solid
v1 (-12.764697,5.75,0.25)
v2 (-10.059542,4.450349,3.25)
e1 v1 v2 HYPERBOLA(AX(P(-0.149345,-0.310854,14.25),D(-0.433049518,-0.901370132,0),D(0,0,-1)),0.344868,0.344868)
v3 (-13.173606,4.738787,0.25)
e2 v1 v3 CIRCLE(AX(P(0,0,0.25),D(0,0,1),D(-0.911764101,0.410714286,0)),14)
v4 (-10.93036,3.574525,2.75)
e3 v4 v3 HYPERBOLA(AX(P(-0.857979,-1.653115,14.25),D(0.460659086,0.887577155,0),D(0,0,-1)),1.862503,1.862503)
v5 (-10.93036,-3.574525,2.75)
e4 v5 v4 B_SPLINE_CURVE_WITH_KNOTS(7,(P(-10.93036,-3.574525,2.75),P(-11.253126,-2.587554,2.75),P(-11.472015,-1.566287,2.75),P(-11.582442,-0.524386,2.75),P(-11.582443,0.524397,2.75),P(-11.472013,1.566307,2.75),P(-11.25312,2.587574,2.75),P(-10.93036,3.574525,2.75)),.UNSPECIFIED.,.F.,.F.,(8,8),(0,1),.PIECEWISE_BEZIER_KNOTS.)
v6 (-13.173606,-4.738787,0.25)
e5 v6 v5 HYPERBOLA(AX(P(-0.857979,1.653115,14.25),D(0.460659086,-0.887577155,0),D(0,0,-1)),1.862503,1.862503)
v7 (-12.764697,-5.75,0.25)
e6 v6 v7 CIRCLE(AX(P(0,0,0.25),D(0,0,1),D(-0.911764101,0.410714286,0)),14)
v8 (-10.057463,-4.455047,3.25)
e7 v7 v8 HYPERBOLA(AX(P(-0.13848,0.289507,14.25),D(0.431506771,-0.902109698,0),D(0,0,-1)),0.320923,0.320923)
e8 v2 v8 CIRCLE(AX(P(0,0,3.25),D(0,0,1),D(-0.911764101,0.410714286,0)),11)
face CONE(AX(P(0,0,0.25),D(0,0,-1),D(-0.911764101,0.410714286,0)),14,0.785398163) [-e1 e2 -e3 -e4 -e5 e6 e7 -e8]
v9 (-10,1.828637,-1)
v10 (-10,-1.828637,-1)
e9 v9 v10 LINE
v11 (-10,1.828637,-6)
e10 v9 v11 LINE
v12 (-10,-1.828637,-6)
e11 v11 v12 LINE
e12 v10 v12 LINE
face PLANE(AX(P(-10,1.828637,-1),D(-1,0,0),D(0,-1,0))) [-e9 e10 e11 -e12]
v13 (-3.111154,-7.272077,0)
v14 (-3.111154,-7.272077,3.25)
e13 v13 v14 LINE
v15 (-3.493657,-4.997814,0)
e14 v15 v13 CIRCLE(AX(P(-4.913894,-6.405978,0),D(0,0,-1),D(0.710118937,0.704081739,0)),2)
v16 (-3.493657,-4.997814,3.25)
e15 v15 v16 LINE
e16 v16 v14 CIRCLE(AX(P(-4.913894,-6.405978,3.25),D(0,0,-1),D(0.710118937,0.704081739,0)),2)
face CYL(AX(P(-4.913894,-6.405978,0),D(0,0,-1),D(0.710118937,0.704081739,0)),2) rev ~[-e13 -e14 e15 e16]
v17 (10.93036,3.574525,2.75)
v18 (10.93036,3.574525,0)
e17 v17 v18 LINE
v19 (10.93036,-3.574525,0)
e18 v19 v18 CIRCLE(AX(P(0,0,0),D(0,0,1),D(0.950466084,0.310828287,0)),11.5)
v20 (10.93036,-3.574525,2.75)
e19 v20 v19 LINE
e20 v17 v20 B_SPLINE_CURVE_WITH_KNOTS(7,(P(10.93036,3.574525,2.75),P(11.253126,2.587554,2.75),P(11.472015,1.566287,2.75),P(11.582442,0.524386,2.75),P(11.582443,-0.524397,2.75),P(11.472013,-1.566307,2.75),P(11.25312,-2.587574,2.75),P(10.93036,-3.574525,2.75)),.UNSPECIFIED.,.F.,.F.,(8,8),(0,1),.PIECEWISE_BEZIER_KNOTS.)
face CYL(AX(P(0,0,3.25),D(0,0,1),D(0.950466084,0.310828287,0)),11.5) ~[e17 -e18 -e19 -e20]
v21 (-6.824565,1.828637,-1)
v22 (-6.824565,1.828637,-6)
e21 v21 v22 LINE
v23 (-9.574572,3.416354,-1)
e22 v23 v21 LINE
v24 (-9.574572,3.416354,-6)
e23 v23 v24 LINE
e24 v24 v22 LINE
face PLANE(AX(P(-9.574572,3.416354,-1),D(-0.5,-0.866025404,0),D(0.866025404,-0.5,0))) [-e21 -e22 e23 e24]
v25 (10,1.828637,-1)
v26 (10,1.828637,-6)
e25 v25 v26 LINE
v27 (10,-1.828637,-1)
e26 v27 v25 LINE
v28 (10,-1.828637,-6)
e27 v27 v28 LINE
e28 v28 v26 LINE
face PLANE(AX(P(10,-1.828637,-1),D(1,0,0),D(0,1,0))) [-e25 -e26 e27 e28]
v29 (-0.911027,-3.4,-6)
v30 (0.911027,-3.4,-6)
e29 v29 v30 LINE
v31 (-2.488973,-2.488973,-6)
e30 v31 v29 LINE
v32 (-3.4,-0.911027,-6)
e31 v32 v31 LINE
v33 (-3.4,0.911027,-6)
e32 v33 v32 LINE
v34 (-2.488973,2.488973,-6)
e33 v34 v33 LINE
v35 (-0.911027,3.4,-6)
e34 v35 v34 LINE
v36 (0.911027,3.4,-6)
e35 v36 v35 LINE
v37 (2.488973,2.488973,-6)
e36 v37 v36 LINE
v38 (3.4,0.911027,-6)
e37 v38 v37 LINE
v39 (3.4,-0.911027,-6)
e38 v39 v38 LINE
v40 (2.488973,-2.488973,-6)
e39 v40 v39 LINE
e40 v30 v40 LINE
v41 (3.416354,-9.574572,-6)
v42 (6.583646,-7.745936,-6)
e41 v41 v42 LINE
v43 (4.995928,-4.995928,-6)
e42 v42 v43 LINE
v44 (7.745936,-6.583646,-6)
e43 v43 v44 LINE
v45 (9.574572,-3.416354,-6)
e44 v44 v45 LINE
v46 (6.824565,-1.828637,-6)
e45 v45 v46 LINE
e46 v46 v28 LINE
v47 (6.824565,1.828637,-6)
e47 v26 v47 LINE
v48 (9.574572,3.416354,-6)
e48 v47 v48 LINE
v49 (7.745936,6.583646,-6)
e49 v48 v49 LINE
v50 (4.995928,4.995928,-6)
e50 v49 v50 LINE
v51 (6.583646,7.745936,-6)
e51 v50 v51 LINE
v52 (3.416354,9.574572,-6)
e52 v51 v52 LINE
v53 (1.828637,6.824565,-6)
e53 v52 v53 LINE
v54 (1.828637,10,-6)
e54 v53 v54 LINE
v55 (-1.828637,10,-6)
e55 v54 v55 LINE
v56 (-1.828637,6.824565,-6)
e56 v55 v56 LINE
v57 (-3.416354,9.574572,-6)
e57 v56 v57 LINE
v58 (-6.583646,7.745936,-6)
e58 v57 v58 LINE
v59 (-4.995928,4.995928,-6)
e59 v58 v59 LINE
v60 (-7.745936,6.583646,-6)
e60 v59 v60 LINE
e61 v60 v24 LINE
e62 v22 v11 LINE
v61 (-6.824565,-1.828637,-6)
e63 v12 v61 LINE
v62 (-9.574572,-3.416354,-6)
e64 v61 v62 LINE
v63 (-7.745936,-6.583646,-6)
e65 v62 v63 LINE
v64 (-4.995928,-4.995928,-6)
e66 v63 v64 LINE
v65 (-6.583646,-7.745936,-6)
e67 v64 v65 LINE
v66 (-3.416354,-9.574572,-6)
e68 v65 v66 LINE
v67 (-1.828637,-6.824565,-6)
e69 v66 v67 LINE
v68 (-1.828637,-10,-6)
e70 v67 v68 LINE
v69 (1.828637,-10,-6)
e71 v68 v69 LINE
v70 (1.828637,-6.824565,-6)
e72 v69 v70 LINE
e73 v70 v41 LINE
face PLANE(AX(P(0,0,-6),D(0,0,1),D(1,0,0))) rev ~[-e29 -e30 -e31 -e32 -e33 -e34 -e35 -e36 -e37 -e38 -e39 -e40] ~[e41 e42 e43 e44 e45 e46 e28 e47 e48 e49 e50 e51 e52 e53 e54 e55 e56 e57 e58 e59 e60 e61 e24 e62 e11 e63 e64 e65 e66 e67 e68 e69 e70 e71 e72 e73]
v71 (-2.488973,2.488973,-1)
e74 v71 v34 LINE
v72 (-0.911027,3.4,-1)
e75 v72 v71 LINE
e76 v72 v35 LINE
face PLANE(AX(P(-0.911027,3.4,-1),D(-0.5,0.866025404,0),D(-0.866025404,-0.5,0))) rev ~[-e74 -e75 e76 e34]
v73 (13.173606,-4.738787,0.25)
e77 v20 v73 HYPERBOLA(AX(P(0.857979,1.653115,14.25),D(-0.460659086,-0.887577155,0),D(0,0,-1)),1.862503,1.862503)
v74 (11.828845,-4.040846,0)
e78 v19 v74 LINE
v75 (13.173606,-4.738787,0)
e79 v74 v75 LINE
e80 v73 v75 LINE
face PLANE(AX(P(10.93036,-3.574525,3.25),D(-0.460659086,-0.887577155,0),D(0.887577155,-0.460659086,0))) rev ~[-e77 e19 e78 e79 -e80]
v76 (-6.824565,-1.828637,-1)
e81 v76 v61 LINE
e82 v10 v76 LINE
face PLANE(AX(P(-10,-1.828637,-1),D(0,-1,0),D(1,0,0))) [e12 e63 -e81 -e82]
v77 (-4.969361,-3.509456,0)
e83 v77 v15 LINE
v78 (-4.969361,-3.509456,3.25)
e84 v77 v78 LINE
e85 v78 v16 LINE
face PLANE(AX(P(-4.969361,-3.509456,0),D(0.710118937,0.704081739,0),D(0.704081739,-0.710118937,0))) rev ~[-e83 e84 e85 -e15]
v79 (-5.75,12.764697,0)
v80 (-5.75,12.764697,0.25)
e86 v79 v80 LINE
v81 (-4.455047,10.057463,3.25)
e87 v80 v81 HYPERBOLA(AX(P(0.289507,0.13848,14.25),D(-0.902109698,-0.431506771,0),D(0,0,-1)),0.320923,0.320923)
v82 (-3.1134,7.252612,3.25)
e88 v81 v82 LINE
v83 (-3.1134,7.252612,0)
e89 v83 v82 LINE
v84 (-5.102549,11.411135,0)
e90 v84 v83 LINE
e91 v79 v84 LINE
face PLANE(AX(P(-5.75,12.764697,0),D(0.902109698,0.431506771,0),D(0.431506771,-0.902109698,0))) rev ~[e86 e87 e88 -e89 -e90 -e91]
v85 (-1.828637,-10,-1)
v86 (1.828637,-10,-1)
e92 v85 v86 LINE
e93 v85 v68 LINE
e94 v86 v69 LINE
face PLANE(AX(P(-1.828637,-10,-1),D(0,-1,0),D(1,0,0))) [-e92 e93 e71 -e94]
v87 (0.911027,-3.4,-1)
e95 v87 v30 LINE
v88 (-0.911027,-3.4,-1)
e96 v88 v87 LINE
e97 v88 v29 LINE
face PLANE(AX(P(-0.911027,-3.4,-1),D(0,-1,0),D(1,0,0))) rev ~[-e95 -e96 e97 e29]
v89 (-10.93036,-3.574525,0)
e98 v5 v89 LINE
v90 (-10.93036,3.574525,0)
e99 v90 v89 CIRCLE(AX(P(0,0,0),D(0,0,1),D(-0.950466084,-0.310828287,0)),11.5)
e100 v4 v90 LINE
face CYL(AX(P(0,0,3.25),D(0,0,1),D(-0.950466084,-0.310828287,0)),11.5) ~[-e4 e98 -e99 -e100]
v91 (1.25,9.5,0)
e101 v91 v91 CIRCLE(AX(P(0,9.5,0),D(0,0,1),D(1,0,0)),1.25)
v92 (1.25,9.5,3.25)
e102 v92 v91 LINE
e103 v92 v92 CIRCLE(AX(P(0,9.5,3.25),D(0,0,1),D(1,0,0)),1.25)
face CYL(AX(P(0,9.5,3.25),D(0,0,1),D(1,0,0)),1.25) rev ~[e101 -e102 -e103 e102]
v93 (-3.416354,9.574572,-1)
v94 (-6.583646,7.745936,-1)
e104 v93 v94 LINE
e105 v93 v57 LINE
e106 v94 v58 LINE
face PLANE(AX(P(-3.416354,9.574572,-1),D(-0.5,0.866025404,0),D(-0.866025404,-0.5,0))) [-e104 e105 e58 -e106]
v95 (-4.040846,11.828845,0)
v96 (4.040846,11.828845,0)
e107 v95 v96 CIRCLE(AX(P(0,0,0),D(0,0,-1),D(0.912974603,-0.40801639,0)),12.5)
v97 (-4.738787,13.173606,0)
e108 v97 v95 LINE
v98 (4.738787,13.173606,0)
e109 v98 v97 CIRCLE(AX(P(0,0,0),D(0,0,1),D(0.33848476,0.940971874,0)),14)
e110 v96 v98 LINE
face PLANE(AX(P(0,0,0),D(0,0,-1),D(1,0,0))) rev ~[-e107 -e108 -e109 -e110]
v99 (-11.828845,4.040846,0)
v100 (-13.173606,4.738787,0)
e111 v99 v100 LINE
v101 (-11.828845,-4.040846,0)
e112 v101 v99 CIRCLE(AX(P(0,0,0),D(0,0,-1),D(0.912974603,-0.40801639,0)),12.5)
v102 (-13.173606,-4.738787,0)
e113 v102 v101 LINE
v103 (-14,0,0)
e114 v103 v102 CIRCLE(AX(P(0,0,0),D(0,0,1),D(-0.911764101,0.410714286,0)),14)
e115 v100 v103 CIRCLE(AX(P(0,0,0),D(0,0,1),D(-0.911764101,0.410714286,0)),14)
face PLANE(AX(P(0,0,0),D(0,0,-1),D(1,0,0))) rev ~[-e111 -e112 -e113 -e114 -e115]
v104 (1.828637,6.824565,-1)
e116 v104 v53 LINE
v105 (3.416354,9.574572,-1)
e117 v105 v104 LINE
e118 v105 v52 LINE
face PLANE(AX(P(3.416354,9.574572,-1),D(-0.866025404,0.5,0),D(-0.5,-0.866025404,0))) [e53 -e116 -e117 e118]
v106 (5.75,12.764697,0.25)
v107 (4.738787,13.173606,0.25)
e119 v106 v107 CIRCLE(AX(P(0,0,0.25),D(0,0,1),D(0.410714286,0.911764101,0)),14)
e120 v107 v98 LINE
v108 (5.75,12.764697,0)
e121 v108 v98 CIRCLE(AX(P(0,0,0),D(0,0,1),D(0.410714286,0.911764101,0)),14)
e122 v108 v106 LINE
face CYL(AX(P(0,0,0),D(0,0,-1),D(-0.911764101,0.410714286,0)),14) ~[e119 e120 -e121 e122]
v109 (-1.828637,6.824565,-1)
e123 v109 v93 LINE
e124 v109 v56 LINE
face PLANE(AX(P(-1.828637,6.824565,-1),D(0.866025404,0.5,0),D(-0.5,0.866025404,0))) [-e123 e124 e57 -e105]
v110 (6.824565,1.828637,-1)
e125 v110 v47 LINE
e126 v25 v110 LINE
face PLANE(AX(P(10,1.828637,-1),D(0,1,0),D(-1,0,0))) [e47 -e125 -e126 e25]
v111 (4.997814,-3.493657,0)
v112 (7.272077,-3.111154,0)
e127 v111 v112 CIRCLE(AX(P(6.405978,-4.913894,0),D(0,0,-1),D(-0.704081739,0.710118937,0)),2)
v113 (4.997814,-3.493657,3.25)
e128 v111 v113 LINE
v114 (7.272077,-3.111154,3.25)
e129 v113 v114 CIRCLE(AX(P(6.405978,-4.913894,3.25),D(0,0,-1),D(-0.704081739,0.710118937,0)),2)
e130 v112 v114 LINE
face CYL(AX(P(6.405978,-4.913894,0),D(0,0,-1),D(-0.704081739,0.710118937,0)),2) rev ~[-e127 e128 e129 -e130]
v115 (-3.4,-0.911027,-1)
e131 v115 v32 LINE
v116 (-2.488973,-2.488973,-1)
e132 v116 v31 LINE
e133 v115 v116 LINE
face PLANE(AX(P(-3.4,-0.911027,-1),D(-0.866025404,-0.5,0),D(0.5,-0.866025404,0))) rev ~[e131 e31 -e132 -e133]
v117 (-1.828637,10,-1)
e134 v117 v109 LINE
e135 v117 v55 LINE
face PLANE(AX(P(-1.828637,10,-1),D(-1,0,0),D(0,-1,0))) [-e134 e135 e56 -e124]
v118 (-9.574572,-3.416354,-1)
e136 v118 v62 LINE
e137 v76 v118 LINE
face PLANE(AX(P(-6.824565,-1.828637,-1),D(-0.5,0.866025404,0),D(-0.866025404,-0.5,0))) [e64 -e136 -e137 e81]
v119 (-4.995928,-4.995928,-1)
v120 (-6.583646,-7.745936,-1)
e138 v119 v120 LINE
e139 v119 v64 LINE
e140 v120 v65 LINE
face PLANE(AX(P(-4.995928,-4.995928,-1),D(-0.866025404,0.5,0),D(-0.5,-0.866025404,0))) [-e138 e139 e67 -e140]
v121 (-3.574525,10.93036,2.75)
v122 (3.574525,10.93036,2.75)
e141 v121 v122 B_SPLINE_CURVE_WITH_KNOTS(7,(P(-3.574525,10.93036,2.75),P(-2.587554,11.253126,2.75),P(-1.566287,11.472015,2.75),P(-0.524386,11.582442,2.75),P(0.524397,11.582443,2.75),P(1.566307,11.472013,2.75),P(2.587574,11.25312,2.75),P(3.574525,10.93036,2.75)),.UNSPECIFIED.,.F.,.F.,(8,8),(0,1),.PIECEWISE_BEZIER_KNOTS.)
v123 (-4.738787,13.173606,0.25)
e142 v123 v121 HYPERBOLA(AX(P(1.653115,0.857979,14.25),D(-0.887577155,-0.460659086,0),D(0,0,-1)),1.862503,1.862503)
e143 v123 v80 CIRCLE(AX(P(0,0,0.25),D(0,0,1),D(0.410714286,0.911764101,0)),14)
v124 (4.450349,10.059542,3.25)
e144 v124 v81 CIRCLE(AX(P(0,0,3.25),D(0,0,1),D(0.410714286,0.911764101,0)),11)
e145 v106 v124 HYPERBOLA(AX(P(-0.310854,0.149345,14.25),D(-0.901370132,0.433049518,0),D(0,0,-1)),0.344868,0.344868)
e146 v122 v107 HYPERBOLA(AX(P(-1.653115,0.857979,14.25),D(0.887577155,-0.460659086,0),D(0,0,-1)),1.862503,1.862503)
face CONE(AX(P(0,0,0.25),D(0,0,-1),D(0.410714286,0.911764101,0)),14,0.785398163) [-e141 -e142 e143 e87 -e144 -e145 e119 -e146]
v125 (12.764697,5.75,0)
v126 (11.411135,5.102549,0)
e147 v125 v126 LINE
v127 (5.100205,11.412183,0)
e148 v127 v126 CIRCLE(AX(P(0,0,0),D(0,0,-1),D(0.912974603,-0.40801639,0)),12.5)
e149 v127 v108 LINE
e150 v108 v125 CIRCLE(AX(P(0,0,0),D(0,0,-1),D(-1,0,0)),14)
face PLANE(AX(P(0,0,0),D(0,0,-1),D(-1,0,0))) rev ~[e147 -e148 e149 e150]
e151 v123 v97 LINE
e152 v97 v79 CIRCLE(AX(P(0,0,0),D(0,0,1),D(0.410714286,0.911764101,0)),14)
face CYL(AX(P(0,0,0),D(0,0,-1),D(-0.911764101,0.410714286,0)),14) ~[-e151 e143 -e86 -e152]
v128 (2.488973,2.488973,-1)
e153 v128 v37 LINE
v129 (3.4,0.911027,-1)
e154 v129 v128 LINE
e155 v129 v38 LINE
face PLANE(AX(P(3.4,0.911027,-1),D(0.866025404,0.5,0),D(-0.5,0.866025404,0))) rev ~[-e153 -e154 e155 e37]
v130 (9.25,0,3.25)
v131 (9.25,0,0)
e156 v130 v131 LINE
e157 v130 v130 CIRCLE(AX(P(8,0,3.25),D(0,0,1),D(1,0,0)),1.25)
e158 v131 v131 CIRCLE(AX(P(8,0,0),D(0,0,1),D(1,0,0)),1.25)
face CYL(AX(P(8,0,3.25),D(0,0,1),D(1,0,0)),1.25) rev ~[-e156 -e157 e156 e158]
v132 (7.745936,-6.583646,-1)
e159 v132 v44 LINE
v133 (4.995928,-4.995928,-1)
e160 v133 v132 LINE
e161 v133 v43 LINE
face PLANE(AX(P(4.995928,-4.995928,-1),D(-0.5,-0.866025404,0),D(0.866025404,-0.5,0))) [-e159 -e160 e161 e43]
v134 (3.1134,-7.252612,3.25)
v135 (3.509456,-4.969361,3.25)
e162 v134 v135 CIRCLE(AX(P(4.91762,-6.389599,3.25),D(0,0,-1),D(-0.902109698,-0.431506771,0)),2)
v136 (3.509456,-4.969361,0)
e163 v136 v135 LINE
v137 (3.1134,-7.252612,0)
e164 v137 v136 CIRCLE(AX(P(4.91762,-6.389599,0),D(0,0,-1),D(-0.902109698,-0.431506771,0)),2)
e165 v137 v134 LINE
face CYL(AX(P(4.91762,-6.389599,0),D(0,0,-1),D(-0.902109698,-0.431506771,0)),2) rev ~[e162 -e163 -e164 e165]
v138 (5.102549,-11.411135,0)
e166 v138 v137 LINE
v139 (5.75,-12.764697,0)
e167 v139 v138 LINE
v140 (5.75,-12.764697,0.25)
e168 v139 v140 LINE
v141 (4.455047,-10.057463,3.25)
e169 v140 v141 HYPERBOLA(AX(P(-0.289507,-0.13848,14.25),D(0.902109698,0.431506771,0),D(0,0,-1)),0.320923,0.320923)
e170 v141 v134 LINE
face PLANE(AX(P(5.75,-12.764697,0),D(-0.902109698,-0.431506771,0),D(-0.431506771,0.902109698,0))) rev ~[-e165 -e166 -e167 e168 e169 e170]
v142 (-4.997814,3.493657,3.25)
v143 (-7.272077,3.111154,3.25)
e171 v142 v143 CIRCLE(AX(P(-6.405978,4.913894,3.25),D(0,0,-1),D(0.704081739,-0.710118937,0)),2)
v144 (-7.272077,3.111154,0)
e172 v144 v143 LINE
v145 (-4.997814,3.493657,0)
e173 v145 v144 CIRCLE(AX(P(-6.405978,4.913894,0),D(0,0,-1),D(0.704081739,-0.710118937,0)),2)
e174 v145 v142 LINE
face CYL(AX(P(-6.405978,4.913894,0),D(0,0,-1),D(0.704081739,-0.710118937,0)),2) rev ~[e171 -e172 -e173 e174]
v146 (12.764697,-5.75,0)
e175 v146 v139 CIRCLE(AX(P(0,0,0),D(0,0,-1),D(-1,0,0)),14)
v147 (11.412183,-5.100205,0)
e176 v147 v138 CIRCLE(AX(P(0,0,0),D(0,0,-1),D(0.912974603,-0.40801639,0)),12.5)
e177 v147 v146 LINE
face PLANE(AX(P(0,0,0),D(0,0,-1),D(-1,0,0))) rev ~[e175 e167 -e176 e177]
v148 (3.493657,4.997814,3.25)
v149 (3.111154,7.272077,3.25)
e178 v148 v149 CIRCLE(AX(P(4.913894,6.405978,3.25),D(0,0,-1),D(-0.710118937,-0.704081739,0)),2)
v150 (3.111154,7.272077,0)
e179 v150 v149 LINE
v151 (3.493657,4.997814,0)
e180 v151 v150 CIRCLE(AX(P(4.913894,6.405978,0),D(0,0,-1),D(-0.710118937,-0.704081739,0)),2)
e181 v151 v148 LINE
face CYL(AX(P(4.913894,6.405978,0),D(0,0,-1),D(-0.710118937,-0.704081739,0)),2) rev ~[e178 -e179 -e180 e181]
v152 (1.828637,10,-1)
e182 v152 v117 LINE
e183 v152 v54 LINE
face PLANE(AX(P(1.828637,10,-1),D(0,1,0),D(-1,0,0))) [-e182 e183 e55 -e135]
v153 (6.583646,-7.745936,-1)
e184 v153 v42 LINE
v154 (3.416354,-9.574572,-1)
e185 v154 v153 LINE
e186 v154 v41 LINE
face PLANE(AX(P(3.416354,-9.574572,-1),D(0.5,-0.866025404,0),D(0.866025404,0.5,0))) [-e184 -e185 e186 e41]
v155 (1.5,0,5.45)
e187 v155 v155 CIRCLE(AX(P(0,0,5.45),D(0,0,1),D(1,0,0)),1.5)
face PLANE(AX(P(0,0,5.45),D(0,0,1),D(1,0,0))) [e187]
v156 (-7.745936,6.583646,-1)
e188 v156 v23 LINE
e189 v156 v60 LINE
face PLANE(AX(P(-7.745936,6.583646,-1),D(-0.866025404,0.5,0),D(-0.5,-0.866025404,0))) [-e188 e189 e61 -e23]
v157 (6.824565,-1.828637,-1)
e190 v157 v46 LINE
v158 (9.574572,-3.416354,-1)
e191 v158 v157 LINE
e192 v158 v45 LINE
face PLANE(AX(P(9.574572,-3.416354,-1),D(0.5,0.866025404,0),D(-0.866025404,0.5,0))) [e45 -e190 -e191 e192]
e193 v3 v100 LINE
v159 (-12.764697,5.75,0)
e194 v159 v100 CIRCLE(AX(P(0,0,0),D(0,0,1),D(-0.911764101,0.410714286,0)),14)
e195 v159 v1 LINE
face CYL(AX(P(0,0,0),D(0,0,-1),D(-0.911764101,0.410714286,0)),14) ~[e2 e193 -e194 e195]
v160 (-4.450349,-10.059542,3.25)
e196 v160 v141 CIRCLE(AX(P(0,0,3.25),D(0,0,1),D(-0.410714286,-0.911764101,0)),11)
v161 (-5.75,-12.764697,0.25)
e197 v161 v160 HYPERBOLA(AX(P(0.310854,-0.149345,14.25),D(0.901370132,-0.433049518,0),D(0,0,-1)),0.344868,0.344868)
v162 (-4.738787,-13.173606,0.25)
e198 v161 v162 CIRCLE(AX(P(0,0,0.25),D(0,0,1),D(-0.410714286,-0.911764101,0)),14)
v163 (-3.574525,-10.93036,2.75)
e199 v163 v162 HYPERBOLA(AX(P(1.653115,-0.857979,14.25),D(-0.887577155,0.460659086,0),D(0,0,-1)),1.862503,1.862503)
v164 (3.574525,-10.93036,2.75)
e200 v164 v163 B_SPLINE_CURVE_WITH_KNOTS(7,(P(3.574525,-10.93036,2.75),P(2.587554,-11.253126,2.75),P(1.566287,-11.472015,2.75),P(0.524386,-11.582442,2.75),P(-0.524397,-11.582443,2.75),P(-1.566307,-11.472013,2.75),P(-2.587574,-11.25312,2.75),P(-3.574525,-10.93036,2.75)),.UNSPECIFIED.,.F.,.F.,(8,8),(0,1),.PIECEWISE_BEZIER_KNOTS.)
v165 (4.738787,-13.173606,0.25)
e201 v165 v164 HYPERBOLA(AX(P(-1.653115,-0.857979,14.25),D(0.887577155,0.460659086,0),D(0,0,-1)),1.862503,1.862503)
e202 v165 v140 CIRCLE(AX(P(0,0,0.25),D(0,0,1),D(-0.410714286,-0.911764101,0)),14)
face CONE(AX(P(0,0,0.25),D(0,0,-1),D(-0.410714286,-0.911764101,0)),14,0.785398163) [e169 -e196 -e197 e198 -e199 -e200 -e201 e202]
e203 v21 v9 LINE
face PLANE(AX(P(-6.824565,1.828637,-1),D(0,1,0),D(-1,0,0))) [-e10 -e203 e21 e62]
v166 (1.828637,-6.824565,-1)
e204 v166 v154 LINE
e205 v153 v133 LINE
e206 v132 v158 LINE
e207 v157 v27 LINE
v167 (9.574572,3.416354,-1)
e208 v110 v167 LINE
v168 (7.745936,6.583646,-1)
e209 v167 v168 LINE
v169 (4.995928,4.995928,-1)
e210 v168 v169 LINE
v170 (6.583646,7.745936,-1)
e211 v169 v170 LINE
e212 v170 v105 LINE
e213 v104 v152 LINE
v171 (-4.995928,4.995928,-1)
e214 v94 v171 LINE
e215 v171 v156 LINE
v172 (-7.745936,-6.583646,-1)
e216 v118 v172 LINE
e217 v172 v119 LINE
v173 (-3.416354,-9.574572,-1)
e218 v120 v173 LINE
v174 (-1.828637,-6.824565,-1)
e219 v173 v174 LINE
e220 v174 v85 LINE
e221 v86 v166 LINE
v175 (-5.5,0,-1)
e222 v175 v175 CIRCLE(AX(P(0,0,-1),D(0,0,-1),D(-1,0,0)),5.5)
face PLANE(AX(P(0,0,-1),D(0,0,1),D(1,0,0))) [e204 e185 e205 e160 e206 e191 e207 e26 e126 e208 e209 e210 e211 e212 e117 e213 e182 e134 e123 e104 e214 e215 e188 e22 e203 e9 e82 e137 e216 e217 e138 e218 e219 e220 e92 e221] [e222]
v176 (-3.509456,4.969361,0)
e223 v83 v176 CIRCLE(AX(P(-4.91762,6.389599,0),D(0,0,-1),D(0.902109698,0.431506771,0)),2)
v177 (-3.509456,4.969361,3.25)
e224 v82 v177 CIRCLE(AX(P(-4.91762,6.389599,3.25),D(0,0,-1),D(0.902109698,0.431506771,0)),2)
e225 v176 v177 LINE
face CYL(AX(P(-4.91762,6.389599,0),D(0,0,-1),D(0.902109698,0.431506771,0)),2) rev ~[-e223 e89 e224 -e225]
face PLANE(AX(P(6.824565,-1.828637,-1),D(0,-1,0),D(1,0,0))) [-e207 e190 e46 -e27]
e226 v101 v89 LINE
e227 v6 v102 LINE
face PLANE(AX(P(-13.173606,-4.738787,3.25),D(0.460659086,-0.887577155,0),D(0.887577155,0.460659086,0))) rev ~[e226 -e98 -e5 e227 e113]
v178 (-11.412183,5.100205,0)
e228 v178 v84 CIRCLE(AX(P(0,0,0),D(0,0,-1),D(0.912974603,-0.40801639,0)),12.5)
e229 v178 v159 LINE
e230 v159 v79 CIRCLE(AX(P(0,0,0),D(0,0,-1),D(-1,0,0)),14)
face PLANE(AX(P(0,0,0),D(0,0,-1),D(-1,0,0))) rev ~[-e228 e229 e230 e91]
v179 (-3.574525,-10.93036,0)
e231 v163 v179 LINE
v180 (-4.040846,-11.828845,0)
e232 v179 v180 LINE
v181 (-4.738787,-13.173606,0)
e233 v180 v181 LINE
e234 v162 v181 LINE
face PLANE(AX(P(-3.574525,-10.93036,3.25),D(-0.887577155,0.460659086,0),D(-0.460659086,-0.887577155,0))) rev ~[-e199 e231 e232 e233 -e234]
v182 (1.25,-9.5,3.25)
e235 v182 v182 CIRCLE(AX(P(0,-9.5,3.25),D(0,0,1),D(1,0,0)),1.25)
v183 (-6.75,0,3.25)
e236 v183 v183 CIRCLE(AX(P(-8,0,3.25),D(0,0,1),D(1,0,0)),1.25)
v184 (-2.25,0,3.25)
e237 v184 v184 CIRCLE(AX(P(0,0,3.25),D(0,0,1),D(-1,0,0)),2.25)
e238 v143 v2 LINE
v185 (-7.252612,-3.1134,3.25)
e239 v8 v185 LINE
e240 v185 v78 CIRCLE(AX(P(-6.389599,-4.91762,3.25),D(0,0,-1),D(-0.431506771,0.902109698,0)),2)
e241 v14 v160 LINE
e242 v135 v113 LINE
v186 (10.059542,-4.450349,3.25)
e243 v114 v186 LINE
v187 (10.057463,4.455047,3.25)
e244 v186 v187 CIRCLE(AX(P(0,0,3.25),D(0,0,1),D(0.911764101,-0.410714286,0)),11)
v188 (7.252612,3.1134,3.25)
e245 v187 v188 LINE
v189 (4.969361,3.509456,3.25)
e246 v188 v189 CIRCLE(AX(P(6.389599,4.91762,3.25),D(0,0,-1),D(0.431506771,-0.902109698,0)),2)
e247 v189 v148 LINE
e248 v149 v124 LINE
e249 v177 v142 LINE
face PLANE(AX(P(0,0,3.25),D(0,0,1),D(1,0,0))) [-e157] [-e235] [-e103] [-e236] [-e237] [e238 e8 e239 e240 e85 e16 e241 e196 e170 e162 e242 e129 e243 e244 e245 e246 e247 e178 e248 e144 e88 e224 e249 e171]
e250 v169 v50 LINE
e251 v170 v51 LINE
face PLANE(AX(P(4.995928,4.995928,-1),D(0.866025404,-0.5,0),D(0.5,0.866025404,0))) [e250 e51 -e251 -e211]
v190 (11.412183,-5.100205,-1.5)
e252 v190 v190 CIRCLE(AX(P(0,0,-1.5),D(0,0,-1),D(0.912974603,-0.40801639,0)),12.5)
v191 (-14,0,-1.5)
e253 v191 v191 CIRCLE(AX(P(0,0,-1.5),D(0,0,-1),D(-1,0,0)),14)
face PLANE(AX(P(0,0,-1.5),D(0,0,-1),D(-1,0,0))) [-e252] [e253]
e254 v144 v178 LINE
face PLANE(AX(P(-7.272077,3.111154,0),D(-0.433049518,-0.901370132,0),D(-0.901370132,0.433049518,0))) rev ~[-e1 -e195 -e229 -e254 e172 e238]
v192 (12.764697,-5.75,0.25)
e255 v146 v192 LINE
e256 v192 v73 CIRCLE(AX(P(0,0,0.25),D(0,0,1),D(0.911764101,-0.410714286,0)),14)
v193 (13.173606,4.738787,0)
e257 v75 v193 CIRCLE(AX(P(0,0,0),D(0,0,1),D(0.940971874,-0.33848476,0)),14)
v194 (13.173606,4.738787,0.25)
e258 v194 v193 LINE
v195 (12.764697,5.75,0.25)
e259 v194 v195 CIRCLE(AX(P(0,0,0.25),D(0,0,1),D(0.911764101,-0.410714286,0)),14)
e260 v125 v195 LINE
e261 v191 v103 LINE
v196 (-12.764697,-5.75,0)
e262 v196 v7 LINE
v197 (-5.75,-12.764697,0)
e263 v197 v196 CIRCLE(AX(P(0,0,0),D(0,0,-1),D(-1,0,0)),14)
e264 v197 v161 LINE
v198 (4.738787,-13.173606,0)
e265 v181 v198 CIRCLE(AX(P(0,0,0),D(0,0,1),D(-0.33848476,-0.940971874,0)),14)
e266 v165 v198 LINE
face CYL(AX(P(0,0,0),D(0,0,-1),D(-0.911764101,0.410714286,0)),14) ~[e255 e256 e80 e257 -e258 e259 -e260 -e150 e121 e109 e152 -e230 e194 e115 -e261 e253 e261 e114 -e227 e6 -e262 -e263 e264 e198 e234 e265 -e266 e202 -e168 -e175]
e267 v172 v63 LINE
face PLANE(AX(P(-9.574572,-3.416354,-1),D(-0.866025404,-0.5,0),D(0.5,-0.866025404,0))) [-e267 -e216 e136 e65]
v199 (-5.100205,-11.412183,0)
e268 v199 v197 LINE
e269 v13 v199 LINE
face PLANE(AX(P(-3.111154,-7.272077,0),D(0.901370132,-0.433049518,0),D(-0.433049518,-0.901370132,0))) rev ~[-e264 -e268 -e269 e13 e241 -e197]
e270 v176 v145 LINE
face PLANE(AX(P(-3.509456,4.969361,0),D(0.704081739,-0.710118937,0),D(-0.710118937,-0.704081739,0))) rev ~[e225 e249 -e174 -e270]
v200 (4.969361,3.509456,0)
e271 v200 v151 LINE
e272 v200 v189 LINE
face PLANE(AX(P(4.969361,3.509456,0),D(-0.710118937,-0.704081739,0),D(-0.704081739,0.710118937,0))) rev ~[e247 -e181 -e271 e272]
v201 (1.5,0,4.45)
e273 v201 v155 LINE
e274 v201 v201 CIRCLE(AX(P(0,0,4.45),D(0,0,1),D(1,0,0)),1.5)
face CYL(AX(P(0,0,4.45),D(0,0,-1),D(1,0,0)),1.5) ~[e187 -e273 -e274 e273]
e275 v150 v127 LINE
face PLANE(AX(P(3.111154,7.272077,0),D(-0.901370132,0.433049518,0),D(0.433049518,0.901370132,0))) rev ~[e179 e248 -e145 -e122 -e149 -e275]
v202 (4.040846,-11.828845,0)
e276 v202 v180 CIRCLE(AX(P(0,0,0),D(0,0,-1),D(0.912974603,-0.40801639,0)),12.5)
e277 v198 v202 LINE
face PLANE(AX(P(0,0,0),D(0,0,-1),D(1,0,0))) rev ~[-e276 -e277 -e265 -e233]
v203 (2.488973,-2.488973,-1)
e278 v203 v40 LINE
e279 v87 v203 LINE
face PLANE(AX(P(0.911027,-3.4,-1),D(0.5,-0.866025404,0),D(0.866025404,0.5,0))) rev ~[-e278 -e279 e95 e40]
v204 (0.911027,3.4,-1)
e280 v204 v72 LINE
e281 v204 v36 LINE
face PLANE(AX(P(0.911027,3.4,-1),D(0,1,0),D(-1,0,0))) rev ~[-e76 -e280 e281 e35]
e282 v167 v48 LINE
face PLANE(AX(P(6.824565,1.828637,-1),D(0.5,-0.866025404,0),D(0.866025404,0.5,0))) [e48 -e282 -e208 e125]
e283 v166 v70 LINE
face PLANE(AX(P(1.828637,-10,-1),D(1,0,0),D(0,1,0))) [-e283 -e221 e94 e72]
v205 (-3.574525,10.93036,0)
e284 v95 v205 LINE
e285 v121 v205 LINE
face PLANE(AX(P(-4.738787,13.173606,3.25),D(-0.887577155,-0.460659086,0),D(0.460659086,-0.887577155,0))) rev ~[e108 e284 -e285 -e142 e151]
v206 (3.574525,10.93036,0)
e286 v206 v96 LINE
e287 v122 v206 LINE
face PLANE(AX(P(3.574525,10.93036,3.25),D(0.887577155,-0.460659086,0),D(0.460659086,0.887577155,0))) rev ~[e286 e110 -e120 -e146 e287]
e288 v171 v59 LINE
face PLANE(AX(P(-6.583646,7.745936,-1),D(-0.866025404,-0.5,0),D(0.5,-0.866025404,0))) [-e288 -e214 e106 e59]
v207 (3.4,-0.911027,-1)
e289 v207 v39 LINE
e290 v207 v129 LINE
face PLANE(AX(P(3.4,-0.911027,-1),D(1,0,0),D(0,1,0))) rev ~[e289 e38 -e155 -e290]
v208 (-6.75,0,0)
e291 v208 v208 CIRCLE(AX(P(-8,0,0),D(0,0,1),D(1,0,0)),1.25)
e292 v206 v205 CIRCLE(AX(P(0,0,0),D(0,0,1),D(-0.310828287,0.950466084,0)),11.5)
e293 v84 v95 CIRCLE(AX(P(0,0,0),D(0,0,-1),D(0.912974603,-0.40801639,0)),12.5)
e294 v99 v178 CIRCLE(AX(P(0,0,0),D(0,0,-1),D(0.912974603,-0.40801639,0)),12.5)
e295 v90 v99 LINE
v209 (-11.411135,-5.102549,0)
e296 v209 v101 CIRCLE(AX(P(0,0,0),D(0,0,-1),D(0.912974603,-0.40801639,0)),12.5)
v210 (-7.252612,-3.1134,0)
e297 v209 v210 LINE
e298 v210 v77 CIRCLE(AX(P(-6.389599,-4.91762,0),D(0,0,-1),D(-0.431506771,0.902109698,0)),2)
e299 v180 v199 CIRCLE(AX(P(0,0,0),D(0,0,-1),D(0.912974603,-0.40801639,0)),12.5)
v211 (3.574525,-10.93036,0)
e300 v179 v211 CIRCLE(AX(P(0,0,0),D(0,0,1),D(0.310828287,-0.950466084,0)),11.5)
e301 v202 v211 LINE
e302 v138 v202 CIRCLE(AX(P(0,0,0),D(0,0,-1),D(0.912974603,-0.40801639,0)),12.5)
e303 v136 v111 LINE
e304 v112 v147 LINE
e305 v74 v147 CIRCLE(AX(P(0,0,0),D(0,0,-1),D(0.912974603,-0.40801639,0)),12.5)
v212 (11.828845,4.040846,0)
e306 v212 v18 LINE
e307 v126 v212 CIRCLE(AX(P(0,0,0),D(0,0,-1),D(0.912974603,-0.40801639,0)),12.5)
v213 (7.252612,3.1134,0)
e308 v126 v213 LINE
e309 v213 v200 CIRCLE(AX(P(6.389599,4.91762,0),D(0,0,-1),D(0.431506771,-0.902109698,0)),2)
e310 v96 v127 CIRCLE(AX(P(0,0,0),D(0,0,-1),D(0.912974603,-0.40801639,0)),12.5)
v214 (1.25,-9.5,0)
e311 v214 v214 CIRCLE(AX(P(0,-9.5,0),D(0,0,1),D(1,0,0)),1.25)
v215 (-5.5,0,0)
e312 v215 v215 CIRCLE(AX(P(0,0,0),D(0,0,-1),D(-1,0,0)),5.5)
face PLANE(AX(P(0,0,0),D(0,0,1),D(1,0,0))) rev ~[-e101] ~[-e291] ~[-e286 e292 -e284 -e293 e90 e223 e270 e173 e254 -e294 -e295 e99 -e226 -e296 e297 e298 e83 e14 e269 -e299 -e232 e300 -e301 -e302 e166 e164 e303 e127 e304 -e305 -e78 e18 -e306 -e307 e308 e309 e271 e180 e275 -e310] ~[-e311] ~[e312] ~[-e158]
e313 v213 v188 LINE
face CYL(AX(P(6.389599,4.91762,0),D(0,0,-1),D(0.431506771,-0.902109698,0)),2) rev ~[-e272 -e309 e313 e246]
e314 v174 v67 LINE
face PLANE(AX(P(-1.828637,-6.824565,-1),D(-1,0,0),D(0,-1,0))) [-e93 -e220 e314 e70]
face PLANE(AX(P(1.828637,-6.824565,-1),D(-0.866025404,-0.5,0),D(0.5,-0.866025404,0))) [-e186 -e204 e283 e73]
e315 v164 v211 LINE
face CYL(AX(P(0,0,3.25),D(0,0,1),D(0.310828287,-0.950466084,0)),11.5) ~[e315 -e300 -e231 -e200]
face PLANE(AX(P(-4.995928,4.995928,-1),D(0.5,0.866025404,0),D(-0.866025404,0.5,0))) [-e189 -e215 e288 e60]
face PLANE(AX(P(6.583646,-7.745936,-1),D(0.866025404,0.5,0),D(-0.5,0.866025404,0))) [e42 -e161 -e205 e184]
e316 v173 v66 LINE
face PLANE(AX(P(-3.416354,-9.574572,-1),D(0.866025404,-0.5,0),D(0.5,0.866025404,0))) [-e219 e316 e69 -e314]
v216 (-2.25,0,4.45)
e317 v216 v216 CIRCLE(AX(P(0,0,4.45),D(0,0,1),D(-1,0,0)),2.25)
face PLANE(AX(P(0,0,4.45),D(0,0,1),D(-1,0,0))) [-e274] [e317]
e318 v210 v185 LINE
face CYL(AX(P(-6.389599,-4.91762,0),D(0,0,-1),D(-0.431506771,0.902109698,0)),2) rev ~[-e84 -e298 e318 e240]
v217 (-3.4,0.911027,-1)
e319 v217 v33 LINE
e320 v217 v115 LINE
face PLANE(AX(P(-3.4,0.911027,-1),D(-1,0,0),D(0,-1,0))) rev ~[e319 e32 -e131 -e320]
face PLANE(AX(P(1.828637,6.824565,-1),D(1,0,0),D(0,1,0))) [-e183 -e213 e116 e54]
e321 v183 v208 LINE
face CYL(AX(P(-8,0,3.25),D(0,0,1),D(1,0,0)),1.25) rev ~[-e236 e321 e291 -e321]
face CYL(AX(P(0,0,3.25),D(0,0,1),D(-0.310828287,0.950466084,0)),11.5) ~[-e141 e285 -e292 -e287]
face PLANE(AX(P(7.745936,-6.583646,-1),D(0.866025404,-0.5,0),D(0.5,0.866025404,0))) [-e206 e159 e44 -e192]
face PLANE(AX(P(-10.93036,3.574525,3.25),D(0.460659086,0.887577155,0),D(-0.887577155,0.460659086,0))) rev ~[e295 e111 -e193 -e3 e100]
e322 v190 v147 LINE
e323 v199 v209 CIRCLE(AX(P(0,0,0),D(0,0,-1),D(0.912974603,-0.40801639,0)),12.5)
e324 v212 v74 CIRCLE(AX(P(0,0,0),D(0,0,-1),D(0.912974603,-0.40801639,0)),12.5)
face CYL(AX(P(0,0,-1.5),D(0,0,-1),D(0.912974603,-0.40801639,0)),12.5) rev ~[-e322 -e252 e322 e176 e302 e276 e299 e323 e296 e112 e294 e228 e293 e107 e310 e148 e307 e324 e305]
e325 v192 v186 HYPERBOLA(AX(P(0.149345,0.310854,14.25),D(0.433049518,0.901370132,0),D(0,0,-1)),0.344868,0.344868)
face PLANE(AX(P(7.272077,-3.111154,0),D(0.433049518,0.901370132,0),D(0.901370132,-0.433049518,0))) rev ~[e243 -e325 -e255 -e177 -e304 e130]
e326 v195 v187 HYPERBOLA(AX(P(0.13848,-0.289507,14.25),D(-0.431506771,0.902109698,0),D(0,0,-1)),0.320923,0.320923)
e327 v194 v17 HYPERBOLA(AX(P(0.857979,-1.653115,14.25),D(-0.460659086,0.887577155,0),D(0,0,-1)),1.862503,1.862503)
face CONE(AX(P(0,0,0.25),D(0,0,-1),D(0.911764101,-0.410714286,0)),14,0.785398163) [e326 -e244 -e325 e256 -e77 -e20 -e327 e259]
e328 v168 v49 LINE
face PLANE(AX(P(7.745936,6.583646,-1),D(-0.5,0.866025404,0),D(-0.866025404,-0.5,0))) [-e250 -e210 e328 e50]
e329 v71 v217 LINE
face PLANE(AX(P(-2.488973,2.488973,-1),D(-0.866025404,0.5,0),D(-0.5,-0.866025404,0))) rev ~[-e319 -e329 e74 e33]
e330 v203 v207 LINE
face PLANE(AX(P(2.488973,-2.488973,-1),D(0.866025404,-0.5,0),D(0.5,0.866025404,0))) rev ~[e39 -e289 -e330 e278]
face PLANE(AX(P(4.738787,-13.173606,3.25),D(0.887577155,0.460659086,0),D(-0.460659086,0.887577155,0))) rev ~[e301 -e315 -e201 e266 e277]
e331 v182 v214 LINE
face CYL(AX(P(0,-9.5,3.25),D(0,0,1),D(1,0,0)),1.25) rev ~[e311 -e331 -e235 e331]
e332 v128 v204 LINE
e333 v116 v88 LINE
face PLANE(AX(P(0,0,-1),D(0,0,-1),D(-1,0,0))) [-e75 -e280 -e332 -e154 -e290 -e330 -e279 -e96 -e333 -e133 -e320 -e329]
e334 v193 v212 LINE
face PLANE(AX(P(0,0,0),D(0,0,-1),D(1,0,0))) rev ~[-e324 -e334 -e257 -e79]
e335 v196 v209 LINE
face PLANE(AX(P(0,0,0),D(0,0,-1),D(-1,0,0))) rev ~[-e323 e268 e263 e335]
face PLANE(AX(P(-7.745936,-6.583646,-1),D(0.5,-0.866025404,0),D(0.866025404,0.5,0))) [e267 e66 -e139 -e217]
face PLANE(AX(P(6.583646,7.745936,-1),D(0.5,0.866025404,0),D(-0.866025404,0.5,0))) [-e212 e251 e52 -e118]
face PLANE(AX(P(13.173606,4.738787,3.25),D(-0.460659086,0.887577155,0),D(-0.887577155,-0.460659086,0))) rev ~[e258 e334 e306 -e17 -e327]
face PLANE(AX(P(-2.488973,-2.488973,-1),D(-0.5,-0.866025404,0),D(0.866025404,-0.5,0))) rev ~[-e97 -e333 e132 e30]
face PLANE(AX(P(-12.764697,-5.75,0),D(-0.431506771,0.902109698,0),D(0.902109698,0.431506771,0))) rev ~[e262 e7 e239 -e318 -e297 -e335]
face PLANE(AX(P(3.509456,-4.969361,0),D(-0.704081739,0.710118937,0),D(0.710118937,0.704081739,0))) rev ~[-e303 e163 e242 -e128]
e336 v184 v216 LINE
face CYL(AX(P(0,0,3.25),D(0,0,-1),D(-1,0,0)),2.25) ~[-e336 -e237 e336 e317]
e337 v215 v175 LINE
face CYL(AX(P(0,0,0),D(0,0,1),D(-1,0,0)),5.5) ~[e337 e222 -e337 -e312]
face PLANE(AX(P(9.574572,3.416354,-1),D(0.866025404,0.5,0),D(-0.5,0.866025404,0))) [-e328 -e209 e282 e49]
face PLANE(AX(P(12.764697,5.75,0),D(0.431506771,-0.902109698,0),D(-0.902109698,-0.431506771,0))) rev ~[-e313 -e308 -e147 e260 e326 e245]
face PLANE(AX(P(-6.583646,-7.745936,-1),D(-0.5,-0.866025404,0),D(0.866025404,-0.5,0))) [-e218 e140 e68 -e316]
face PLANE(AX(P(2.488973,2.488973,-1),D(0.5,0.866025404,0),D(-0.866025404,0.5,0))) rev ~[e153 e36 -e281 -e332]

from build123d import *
from build123d.topology import SkipClean

# Parameters (mm, degrees)
EXTRUDE_1_DEPTH     = 3.25
EXTRUDE_START       = 1.5
SKETCH_2_R          = 14.000000000000027
SKETCH_2_R_2        = 12.499999999999906
EXTRUDE_2_DEPTH     = 1.5
CHAMFER_1_SIZE      = 3
CUT_EXTRUDE_2_REACH = 22.361
SKETCH_3_R          = 1.2500000000000002
SKETCH_3_R_2        = 1.2499999999999991
SKETCH_3_R_3        = 1.2499999999999998
SKETCH_3_R_4        = 1.250000000000001
SKETCH_4_R          = 2.25
EXTRUDE_3_DEPTH     = 1.2
SKETCH_6_R          = 1.5
EXTRUDE_4_DEPTH     = 1
SKETCH_7_R          = 5.5
EXTRUDE_5_DEPTH     = 1
EXTRUDE_6_DEPTH     = 5


with BuildPart() as part:
    # Эскиз1 → Бобышка-Вытянуть1 (new body)
    with BuildSketch(Plane.XY):
        with BuildLine():
            Line((-7.272076584167655, 3.111154183095137), (-12.764697411219743, 5.749999999999998))
            ThreePointArc((-12.764697411219743, 5.749999999999998), (-13.687690889209106, 2.9405982591067765), (-13.999999999999988, 0))
            ThreePointArc((-13.999999999999988, 0), (-13.68769088920912, -2.9405982591067032), (-12.764697411219801, -5.749999999999867))
            Line((-12.764697411219801, -5.749999999999867), (-7.25261222668815, -3.113400385794882))
            ThreePointArc((-7.25261222668815, -3.113400385794882), (-6.047780294633424, -2.947046212491201), (-4.969360809785696, -3.5094563032390873))
            Line((-4.969360809785696, -3.5094563032390873), (-3.493656572586229, -4.997814070292929))
            ThreePointArc((-3.493656572586229, -4.997814070292929), (-2.9415951503787445, -6.074261578843696), (-3.111154183095193, -7.272076584167621))
            Line((-3.111154183095193, -7.272076584167621), (-5.75000000000013, -12.764697411219682))
            ThreePointArc((-5.75000000000013, -12.764697411219682), (-2.940598259106871, -13.687690889209117), (-4.974e-14, -14.00000000000005))
            ThreePointArc((-4.974e-14, -14.00000000000005), (2.940598259106699, -13.687690889209104), (5.74999999999991, -12.764697411219782))
            Line((5.74999999999991, -12.764697411219782), (3.113400385794907, -7.252612226688141))
            ThreePointArc((3.113400385794907, -7.252612226688141), (2.9470462124912205, -6.047780294633415), (3.509456303239104, -4.969360809785686))
            Line((3.509456303239104, -4.969360809785686), (4.99781407029294, -3.493656572586213))
            ThreePointArc((4.99781407029294, -3.493656572586213), (6.074261578843707, -2.941595150378726), (7.272076584167633, -3.1111541830951692))
            Line((7.272076584167633, -3.1111541830951692), (12.764697411219702, -5.750000000000088))
            ThreePointArc((12.764697411219702, -5.750000000000088), (13.687690889209112, -2.9405982591068236), (14.00000000000005, 8.8e-16))
            ThreePointArc((14.00000000000005, 8.8e-16), (13.687690889209128, 2.9405982591067543), (12.764697411219764, 5.749999999999957))
            Line((12.764697411219764, 5.749999999999957), (7.2526122266881305, 3.113400385794934))
            ThreePointArc((7.2526122266881305, 3.113400385794934), (6.047780294633405, 2.9470462124912435), (4.969360809785673, 3.5094563032391233))
            Line((4.969360809785673, 3.5094563032391233), (3.493656572586196, 4.9978140702929545))
            ThreePointArc((3.493656572586196, 4.9978140702929545), (2.9415951503787046, 6.074261578843718), (3.111154183095144, 7.272076584167644))
            Line((3.111154183095144, 7.272076584167644), (5.750000000000043, 12.764697411219723))
            ThreePointArc((5.750000000000043, 12.764697411219723), (2.940598259106772, 13.68769088920909), (-4.802e-14, 14.00000000000005))
            ThreePointArc((-4.802e-14, 14.00000000000005), (-2.940598259106804, 13.687690889209133), (-5.75, 12.764697411219743))
            Line((-5.75, 12.764697411219743), (-3.113400385794959, 7.252612226688119))
            ThreePointArc((-3.113400385794959, 7.252612226688119), (-2.947046212491262, 6.047780294633395), (-3.5094563032391375, 4.969360809785661))
            Line((-3.5094563032391375, 4.969360809785661), (-4.997814070292954, 3.4936565725861874))
            ThreePointArc((-4.997814070292954, 3.4936565725861874), (-6.074261578843724, 2.941595150378682), (-7.272076584167655, 3.111154183095137))
        make_face()
    extrude(amount=EXTRUDE_1_DEPTH)

    # Эскиз2 → Бобышка-Вытянуть2 (add)
    with SkipClean():  # the faces are left unmerged after this step: merging them gives an invalid solid
        with BuildSketch(Plane(origin=(0, 0, 0), x_dir=(-1, 0, 0), z_dir=(0, 0, -1)).offset(EXTRUDE_START)):
            Circle(SKETCH_2_R)
            with Locations(Location((0, 0, 0), (0, 0, 204.080288301))):
                Circle(SKETCH_2_R_2, mode=Mode.SUBTRACT)
        extrude(amount=-EXTRUDE_2_DEPTH)

    # Фаска1
    chamfer_1_edges = [part.edges().sort_by_distance(p)[0] for p in [
        (-1.7286e-13, -14.000000000000046, 3.25),
        (-13.999999999999986, 7.35e-14, 3.25),
        (14.00000000000005, -9.981e-14, 3.25),
        (3.486e-14, 14.00000000000005, 3.25),
    ]]
    chamfer(chamfer_1_edges, length=CHAMFER_1_SIZE)

    # Вырез-Вытянуть2: up to this face of the body (flat: up to its plane)
    cut_extrude_2_end = Plane(part.part.faces().sort_by_distance((0, 0, 0))[0])
    # Эскиз3 → Вырез-Вытянуть2 (cut, up to the picked face)
    with BuildSketch(Plane.XY.offset(3.25), mode=Mode.PRIVATE) as cut_extrude_2_sk1:
        with Locations((-8, 0)):
            Circle(SKETCH_3_R)
    cut_extrude_2_tool1 = split(extrude(cut_extrude_2_sk1.sketch, amount=-CUT_EXTRUDE_2_REACH, mode=Mode.PRIVATE), bisect_by=cut_extrude_2_end, keep=Keep.BOTH, mode=Mode.PRIVATE)
    # Эскиз3 → Вырез-Вытянуть2 (cut, up to the picked face)
    with BuildSketch(Plane.XY.offset(3.25), mode=Mode.PRIVATE) as cut_extrude_2_sk2:
        with Locations((8, 0)):
            Circle(SKETCH_3_R_2)
    cut_extrude_2_tool2 = split(extrude(cut_extrude_2_sk2.sketch, amount=-CUT_EXTRUDE_2_REACH, mode=Mode.PRIVATE), bisect_by=cut_extrude_2_end, keep=Keep.BOTH, mode=Mode.PRIVATE)
    # Эскиз3 → Вырез-Вытянуть2 (cut, up to the picked face)
    with BuildSketch(Plane.XY.offset(3.25), mode=Mode.PRIVATE) as cut_extrude_2_sk3:
        with Locations((0, 9.5)):
            Circle(SKETCH_3_R_3)
    cut_extrude_2_tool3 = split(extrude(cut_extrude_2_sk3.sketch, amount=-CUT_EXTRUDE_2_REACH, mode=Mode.PRIVATE), bisect_by=cut_extrude_2_end, keep=Keep.BOTH, mode=Mode.PRIVATE)
    # Эскиз3 → Вырез-Вытянуть2 (cut, up to the picked face)
    with BuildSketch(Plane.XY.offset(3.25), mode=Mode.PRIVATE) as cut_extrude_2_sk4:
        with Locations((0, -9.5)):
            Circle(SKETCH_3_R_4)
    cut_extrude_2_tool4 = split(extrude(cut_extrude_2_sk4.sketch, amount=-CUT_EXTRUDE_2_REACH, mode=Mode.PRIVATE), bisect_by=cut_extrude_2_end, keep=Keep.BOTH, mode=Mode.PRIVATE)
    # Эскиз3 → Вырез-Вытянуть2 (cut, up to the picked face)
    with BuildSketch(Plane.XY.offset(3.25), mode=Mode.PRIVATE) as cut_extrude_2_sk5:
        with BuildLine():
            Line((-4.738786646254797, 13.173606230690137), (-3.574525297896844, 10.930359961808032))
            ThreePointArc((-3.574525297896844, 10.930359961808032), (7e-16, 11.500000000000027), (3.574525297896844, 10.930359961808032))
            Line((3.574525297896844, 10.930359961808032), (4.738786646254797, 13.173606230690137))
            ThreePointArc((4.738786646254797, 13.173606230690137), (8.6e-16, 14.000000000000028), (-4.738786646254797, 13.173606230690137))
        make_face()
    cut_extrude_2_tool5 = split(extrude(cut_extrude_2_sk5.sketch, amount=-CUT_EXTRUDE_2_REACH, mode=Mode.PRIVATE), bisect_by=cut_extrude_2_end, keep=Keep.BOTH, mode=Mode.PRIVATE)
    # Эскиз3 → Вырез-Вытянуть2 (cut, up to the picked face)
    with BuildSketch(Plane.XY.offset(3.25), mode=Mode.PRIVATE) as cut_extrude_2_sk6:
        with BuildLine():
            Line((13.173606230690154, 4.738786646254751), (10.930359961808044, 3.574525297896806))
            ThreePointArc((10.930359961808044, 3.574525297896806), (11.500000000000027, -4.022e-14), (10.93035996180802, -3.5745252978968822))
            Line((10.93035996180802, -3.5745252978968822), (13.173606230690119, -4.738786646254843))
            ThreePointArc((13.173606230690119, -4.738786646254843), (14.000000000000027, -4.896e-14), (13.173606230690154, 4.738786646254751))
        make_face()
    cut_extrude_2_tool6 = split(extrude(cut_extrude_2_sk6.sketch, amount=-CUT_EXTRUDE_2_REACH, mode=Mode.PRIVATE), bisect_by=cut_extrude_2_end, keep=Keep.BOTH, mode=Mode.PRIVATE)
    # Эскиз3 → Вырез-Вытянуть2 (cut, up to the picked face)
    with BuildSketch(Plane.XY.offset(3.25), mode=Mode.PRIVATE) as cut_extrude_2_sk7:
        with BuildLine():
            Line((4.738786646254705, -13.173606230690169), (3.5745252978967677, -10.930359961808056))
            ThreePointArc((3.5745252978967677, -10.930359961808056), (-8.101e-14, -11.500000000000027), (-3.5745252978969204, -10.930359961808007))
            Line((-3.5745252978969204, -10.930359961808007), (-4.738786646254889, -13.173606230690103))
            ThreePointArc((-4.738786646254889, -13.173606230690103), (-9.862e-14, -14.000000000000027), (4.738786646254705, -13.173606230690169))
        make_face()
    cut_extrude_2_tool7 = split(extrude(cut_extrude_2_sk7.sketch, amount=-CUT_EXTRUDE_2_REACH, mode=Mode.PRIVATE), bisect_by=cut_extrude_2_end, keep=Keep.BOTH, mode=Mode.PRIVATE)
    # Эскиз3 → Вырез-Вытянуть2 (cut, up to the picked face)
    with BuildSketch(Plane.XY.offset(3.25), mode=Mode.PRIVATE) as cut_extrude_2_sk8:
        with BuildLine():
            Line((-13.173606230690186, -4.738786646254658), (-10.930359961808069, -3.574525297896729))
            ThreePointArc((-10.930359961808069, -3.574525297896729), (-11.500000000000025, 1.2116e-13), (-10.930359961807993, 3.5745252978969595))
            Line((-10.930359961807993, 3.5745252978969595), (-13.173606230690085, 4.738786646254936))
            ThreePointArc((-13.173606230690085, 4.738786646254936), (-14.000000000000027, 1.5093e-13), (-13.173606230690186, -4.738786646254658))
        make_face()
    cut_extrude_2_tool8 = split(extrude(cut_extrude_2_sk8.sketch, amount=-CUT_EXTRUDE_2_REACH, mode=Mode.PRIVATE), bisect_by=cut_extrude_2_end, keep=Keep.BOTH, mode=Mode.PRIVATE)
    add(cut_extrude_2_tool1.solids().sort_by(Axis((-8, 0, 3.25), (0, 0, -1)))[0], mode=Mode.SUBTRACT)
    add(cut_extrude_2_tool2.solids().sort_by(Axis((8, 0, 3.25), (0, 0, -1)))[0], mode=Mode.SUBTRACT)
    add(cut_extrude_2_tool3.solids().sort_by(Axis((0, 9.5, 3.25), (0, 0, -1)))[0], mode=Mode.SUBTRACT)
    add(cut_extrude_2_tool4.solids().sort_by(Axis((0, -9.5, 3.25), (0, 0, -1)))[0], mode=Mode.SUBTRACT)
    add(cut_extrude_2_tool5.solids().sort_by(Axis((0, 12.573718, 3.25), (0, 0, -1)))[0], mode=Mode.SUBTRACT)
    add(cut_extrude_2_tool6.solids().sort_by(Axis((12.573718, 0, 3.25), (0, 0, -1)))[0], mode=Mode.SUBTRACT)
    add(cut_extrude_2_tool7.solids().sort_by(Axis((0, -12.573718, 3.25), (0, 0, -1)))[0], mode=Mode.SUBTRACT)
    add(cut_extrude_2_tool8.solids().sort_by(Axis((-12.573718, 0, 3.25), (0, 0, -1)))[0], mode=Mode.SUBTRACT)

    # Эскиз4 → Бобышка-Вытянуть3 (add)
    with SkipClean():  # the faces are left unmerged after this step: merging them gives an invalid solid
        with BuildSketch(Plane.XY.offset(3.25)):
            with Locations(Location((0, 0, 0), (0, 0, 180))):
                Circle(SKETCH_4_R)
        extrude(amount=EXTRUDE_3_DEPTH)

    # Эскиз6 → Бобышка-Вытянуть4 (add)
    with SkipClean():  # the faces are left unmerged after this step: merging them gives an invalid solid
        with BuildSketch(Plane.XY.offset(4.45)):
            Circle(SKETCH_6_R)
        extrude(amount=EXTRUDE_4_DEPTH)

    # Эскиз7 → Бобышка-Вытянуть5 (add)
    with SkipClean():  # the faces are left unmerged after this step: merging them gives an invalid solid
        with BuildSketch(Plane(origin=(0, 0, 0), x_dir=(-1, 0, 0), z_dir=(0, 0, -1))):
            Circle(SKETCH_7_R)
        extrude(amount=EXTRUDE_5_DEPTH)

    # Эскиз8 → Бобышка-Вытянуть6 (add)
    with SkipClean():  # the faces are left unmerged after this step: merging them gives an invalid solid
        with BuildSketch(Plane(origin=(0, 0, -1), x_dir=(-1, 0, 0), z_dir=(0, 0, -1))):
            Polygon((-1.8286367370263235, 9.999999999999904), (1.8286367370263235, 9.999999999999904), (1.8286367370263241, 6.824565211169193), (3.4163541314416523, 9.57457240635755), (6.5836458685582135, 7.745935669331226), (4.995928474142883, 4.995928474142866), (7.745935669331147, 6.583645868558398), (9.57457240635747, 3.4163541314418384), (6.8245652111691975, 1.8286367370262993), (9.999999999999972, 1.8286367370265468), (9.999999999999972, -1.8286367370261), (6.824565211169186, -1.828636737026348), (9.574572406357618, -3.416354131441428), (7.745935669331295, -6.58364586855799), (4.995928474142845, -4.995928474142898), (6.5836458685584685, -7.745935669330923), (3.416354131441909, -9.574572406357246), (1.828636737026489, -6.824565211169578), (1.8286367370266157, -9.99999999999975), (-1.8286367370260312, -9.99999999999975), (-1.828636737026372, -6.824565211169182), (-3.416354131441359, -9.574572406357396), (-6.5836458685579204, -7.745935669331072), (-4.995928474142918, -4.995928474142831), (-7.745935669330854, -6.583645868558247), (-9.574572406357179, -3.416354131441687), (-6.824565211169213, -1.8286367370262528), (-9.999999999999682, -1.8286367370263936), (-9.999999999999682, 1.8286367370262533), (-6.824565211169262, 1.828636737026395), (-9.57457240635733, 3.4163541314415777), (-7.745935669331009, 6.583645868558139), (-4.995928474142862, 4.995928474142964), (-6.583645868558178, 7.745935669331077), (-3.4163541314416186, 9.574572406357401), (-1.828636737026324, 6.824565211169384), align=None)
            Polygon((-0.9110272542657695, 3.3999999999999058), (0.9110272542657935, 3.3999999999999058), (2.488972745734119, 2.48897274573411), (3.3999999999999093, 0.9110272542657816), (3.3999999999999027, -0.9110272542658054), (2.488972745734102, -2.4889727457341264), (0.9110272542657677, -3.3999999999999124), (-0.9110272542658163, -3.3999999999999004), (-2.4889727457341366, -2.4889727457340918), (-3.399999999999915, -0.9110272542657586), (-3.399999999999896, 0.9110272542658285), (-2.4889727457341553, 2.488972745734021), align=None, mode=Mode.SUBTRACT)
        extrude(amount=EXTRUDE_6_DEPTH)


solid = part.part
